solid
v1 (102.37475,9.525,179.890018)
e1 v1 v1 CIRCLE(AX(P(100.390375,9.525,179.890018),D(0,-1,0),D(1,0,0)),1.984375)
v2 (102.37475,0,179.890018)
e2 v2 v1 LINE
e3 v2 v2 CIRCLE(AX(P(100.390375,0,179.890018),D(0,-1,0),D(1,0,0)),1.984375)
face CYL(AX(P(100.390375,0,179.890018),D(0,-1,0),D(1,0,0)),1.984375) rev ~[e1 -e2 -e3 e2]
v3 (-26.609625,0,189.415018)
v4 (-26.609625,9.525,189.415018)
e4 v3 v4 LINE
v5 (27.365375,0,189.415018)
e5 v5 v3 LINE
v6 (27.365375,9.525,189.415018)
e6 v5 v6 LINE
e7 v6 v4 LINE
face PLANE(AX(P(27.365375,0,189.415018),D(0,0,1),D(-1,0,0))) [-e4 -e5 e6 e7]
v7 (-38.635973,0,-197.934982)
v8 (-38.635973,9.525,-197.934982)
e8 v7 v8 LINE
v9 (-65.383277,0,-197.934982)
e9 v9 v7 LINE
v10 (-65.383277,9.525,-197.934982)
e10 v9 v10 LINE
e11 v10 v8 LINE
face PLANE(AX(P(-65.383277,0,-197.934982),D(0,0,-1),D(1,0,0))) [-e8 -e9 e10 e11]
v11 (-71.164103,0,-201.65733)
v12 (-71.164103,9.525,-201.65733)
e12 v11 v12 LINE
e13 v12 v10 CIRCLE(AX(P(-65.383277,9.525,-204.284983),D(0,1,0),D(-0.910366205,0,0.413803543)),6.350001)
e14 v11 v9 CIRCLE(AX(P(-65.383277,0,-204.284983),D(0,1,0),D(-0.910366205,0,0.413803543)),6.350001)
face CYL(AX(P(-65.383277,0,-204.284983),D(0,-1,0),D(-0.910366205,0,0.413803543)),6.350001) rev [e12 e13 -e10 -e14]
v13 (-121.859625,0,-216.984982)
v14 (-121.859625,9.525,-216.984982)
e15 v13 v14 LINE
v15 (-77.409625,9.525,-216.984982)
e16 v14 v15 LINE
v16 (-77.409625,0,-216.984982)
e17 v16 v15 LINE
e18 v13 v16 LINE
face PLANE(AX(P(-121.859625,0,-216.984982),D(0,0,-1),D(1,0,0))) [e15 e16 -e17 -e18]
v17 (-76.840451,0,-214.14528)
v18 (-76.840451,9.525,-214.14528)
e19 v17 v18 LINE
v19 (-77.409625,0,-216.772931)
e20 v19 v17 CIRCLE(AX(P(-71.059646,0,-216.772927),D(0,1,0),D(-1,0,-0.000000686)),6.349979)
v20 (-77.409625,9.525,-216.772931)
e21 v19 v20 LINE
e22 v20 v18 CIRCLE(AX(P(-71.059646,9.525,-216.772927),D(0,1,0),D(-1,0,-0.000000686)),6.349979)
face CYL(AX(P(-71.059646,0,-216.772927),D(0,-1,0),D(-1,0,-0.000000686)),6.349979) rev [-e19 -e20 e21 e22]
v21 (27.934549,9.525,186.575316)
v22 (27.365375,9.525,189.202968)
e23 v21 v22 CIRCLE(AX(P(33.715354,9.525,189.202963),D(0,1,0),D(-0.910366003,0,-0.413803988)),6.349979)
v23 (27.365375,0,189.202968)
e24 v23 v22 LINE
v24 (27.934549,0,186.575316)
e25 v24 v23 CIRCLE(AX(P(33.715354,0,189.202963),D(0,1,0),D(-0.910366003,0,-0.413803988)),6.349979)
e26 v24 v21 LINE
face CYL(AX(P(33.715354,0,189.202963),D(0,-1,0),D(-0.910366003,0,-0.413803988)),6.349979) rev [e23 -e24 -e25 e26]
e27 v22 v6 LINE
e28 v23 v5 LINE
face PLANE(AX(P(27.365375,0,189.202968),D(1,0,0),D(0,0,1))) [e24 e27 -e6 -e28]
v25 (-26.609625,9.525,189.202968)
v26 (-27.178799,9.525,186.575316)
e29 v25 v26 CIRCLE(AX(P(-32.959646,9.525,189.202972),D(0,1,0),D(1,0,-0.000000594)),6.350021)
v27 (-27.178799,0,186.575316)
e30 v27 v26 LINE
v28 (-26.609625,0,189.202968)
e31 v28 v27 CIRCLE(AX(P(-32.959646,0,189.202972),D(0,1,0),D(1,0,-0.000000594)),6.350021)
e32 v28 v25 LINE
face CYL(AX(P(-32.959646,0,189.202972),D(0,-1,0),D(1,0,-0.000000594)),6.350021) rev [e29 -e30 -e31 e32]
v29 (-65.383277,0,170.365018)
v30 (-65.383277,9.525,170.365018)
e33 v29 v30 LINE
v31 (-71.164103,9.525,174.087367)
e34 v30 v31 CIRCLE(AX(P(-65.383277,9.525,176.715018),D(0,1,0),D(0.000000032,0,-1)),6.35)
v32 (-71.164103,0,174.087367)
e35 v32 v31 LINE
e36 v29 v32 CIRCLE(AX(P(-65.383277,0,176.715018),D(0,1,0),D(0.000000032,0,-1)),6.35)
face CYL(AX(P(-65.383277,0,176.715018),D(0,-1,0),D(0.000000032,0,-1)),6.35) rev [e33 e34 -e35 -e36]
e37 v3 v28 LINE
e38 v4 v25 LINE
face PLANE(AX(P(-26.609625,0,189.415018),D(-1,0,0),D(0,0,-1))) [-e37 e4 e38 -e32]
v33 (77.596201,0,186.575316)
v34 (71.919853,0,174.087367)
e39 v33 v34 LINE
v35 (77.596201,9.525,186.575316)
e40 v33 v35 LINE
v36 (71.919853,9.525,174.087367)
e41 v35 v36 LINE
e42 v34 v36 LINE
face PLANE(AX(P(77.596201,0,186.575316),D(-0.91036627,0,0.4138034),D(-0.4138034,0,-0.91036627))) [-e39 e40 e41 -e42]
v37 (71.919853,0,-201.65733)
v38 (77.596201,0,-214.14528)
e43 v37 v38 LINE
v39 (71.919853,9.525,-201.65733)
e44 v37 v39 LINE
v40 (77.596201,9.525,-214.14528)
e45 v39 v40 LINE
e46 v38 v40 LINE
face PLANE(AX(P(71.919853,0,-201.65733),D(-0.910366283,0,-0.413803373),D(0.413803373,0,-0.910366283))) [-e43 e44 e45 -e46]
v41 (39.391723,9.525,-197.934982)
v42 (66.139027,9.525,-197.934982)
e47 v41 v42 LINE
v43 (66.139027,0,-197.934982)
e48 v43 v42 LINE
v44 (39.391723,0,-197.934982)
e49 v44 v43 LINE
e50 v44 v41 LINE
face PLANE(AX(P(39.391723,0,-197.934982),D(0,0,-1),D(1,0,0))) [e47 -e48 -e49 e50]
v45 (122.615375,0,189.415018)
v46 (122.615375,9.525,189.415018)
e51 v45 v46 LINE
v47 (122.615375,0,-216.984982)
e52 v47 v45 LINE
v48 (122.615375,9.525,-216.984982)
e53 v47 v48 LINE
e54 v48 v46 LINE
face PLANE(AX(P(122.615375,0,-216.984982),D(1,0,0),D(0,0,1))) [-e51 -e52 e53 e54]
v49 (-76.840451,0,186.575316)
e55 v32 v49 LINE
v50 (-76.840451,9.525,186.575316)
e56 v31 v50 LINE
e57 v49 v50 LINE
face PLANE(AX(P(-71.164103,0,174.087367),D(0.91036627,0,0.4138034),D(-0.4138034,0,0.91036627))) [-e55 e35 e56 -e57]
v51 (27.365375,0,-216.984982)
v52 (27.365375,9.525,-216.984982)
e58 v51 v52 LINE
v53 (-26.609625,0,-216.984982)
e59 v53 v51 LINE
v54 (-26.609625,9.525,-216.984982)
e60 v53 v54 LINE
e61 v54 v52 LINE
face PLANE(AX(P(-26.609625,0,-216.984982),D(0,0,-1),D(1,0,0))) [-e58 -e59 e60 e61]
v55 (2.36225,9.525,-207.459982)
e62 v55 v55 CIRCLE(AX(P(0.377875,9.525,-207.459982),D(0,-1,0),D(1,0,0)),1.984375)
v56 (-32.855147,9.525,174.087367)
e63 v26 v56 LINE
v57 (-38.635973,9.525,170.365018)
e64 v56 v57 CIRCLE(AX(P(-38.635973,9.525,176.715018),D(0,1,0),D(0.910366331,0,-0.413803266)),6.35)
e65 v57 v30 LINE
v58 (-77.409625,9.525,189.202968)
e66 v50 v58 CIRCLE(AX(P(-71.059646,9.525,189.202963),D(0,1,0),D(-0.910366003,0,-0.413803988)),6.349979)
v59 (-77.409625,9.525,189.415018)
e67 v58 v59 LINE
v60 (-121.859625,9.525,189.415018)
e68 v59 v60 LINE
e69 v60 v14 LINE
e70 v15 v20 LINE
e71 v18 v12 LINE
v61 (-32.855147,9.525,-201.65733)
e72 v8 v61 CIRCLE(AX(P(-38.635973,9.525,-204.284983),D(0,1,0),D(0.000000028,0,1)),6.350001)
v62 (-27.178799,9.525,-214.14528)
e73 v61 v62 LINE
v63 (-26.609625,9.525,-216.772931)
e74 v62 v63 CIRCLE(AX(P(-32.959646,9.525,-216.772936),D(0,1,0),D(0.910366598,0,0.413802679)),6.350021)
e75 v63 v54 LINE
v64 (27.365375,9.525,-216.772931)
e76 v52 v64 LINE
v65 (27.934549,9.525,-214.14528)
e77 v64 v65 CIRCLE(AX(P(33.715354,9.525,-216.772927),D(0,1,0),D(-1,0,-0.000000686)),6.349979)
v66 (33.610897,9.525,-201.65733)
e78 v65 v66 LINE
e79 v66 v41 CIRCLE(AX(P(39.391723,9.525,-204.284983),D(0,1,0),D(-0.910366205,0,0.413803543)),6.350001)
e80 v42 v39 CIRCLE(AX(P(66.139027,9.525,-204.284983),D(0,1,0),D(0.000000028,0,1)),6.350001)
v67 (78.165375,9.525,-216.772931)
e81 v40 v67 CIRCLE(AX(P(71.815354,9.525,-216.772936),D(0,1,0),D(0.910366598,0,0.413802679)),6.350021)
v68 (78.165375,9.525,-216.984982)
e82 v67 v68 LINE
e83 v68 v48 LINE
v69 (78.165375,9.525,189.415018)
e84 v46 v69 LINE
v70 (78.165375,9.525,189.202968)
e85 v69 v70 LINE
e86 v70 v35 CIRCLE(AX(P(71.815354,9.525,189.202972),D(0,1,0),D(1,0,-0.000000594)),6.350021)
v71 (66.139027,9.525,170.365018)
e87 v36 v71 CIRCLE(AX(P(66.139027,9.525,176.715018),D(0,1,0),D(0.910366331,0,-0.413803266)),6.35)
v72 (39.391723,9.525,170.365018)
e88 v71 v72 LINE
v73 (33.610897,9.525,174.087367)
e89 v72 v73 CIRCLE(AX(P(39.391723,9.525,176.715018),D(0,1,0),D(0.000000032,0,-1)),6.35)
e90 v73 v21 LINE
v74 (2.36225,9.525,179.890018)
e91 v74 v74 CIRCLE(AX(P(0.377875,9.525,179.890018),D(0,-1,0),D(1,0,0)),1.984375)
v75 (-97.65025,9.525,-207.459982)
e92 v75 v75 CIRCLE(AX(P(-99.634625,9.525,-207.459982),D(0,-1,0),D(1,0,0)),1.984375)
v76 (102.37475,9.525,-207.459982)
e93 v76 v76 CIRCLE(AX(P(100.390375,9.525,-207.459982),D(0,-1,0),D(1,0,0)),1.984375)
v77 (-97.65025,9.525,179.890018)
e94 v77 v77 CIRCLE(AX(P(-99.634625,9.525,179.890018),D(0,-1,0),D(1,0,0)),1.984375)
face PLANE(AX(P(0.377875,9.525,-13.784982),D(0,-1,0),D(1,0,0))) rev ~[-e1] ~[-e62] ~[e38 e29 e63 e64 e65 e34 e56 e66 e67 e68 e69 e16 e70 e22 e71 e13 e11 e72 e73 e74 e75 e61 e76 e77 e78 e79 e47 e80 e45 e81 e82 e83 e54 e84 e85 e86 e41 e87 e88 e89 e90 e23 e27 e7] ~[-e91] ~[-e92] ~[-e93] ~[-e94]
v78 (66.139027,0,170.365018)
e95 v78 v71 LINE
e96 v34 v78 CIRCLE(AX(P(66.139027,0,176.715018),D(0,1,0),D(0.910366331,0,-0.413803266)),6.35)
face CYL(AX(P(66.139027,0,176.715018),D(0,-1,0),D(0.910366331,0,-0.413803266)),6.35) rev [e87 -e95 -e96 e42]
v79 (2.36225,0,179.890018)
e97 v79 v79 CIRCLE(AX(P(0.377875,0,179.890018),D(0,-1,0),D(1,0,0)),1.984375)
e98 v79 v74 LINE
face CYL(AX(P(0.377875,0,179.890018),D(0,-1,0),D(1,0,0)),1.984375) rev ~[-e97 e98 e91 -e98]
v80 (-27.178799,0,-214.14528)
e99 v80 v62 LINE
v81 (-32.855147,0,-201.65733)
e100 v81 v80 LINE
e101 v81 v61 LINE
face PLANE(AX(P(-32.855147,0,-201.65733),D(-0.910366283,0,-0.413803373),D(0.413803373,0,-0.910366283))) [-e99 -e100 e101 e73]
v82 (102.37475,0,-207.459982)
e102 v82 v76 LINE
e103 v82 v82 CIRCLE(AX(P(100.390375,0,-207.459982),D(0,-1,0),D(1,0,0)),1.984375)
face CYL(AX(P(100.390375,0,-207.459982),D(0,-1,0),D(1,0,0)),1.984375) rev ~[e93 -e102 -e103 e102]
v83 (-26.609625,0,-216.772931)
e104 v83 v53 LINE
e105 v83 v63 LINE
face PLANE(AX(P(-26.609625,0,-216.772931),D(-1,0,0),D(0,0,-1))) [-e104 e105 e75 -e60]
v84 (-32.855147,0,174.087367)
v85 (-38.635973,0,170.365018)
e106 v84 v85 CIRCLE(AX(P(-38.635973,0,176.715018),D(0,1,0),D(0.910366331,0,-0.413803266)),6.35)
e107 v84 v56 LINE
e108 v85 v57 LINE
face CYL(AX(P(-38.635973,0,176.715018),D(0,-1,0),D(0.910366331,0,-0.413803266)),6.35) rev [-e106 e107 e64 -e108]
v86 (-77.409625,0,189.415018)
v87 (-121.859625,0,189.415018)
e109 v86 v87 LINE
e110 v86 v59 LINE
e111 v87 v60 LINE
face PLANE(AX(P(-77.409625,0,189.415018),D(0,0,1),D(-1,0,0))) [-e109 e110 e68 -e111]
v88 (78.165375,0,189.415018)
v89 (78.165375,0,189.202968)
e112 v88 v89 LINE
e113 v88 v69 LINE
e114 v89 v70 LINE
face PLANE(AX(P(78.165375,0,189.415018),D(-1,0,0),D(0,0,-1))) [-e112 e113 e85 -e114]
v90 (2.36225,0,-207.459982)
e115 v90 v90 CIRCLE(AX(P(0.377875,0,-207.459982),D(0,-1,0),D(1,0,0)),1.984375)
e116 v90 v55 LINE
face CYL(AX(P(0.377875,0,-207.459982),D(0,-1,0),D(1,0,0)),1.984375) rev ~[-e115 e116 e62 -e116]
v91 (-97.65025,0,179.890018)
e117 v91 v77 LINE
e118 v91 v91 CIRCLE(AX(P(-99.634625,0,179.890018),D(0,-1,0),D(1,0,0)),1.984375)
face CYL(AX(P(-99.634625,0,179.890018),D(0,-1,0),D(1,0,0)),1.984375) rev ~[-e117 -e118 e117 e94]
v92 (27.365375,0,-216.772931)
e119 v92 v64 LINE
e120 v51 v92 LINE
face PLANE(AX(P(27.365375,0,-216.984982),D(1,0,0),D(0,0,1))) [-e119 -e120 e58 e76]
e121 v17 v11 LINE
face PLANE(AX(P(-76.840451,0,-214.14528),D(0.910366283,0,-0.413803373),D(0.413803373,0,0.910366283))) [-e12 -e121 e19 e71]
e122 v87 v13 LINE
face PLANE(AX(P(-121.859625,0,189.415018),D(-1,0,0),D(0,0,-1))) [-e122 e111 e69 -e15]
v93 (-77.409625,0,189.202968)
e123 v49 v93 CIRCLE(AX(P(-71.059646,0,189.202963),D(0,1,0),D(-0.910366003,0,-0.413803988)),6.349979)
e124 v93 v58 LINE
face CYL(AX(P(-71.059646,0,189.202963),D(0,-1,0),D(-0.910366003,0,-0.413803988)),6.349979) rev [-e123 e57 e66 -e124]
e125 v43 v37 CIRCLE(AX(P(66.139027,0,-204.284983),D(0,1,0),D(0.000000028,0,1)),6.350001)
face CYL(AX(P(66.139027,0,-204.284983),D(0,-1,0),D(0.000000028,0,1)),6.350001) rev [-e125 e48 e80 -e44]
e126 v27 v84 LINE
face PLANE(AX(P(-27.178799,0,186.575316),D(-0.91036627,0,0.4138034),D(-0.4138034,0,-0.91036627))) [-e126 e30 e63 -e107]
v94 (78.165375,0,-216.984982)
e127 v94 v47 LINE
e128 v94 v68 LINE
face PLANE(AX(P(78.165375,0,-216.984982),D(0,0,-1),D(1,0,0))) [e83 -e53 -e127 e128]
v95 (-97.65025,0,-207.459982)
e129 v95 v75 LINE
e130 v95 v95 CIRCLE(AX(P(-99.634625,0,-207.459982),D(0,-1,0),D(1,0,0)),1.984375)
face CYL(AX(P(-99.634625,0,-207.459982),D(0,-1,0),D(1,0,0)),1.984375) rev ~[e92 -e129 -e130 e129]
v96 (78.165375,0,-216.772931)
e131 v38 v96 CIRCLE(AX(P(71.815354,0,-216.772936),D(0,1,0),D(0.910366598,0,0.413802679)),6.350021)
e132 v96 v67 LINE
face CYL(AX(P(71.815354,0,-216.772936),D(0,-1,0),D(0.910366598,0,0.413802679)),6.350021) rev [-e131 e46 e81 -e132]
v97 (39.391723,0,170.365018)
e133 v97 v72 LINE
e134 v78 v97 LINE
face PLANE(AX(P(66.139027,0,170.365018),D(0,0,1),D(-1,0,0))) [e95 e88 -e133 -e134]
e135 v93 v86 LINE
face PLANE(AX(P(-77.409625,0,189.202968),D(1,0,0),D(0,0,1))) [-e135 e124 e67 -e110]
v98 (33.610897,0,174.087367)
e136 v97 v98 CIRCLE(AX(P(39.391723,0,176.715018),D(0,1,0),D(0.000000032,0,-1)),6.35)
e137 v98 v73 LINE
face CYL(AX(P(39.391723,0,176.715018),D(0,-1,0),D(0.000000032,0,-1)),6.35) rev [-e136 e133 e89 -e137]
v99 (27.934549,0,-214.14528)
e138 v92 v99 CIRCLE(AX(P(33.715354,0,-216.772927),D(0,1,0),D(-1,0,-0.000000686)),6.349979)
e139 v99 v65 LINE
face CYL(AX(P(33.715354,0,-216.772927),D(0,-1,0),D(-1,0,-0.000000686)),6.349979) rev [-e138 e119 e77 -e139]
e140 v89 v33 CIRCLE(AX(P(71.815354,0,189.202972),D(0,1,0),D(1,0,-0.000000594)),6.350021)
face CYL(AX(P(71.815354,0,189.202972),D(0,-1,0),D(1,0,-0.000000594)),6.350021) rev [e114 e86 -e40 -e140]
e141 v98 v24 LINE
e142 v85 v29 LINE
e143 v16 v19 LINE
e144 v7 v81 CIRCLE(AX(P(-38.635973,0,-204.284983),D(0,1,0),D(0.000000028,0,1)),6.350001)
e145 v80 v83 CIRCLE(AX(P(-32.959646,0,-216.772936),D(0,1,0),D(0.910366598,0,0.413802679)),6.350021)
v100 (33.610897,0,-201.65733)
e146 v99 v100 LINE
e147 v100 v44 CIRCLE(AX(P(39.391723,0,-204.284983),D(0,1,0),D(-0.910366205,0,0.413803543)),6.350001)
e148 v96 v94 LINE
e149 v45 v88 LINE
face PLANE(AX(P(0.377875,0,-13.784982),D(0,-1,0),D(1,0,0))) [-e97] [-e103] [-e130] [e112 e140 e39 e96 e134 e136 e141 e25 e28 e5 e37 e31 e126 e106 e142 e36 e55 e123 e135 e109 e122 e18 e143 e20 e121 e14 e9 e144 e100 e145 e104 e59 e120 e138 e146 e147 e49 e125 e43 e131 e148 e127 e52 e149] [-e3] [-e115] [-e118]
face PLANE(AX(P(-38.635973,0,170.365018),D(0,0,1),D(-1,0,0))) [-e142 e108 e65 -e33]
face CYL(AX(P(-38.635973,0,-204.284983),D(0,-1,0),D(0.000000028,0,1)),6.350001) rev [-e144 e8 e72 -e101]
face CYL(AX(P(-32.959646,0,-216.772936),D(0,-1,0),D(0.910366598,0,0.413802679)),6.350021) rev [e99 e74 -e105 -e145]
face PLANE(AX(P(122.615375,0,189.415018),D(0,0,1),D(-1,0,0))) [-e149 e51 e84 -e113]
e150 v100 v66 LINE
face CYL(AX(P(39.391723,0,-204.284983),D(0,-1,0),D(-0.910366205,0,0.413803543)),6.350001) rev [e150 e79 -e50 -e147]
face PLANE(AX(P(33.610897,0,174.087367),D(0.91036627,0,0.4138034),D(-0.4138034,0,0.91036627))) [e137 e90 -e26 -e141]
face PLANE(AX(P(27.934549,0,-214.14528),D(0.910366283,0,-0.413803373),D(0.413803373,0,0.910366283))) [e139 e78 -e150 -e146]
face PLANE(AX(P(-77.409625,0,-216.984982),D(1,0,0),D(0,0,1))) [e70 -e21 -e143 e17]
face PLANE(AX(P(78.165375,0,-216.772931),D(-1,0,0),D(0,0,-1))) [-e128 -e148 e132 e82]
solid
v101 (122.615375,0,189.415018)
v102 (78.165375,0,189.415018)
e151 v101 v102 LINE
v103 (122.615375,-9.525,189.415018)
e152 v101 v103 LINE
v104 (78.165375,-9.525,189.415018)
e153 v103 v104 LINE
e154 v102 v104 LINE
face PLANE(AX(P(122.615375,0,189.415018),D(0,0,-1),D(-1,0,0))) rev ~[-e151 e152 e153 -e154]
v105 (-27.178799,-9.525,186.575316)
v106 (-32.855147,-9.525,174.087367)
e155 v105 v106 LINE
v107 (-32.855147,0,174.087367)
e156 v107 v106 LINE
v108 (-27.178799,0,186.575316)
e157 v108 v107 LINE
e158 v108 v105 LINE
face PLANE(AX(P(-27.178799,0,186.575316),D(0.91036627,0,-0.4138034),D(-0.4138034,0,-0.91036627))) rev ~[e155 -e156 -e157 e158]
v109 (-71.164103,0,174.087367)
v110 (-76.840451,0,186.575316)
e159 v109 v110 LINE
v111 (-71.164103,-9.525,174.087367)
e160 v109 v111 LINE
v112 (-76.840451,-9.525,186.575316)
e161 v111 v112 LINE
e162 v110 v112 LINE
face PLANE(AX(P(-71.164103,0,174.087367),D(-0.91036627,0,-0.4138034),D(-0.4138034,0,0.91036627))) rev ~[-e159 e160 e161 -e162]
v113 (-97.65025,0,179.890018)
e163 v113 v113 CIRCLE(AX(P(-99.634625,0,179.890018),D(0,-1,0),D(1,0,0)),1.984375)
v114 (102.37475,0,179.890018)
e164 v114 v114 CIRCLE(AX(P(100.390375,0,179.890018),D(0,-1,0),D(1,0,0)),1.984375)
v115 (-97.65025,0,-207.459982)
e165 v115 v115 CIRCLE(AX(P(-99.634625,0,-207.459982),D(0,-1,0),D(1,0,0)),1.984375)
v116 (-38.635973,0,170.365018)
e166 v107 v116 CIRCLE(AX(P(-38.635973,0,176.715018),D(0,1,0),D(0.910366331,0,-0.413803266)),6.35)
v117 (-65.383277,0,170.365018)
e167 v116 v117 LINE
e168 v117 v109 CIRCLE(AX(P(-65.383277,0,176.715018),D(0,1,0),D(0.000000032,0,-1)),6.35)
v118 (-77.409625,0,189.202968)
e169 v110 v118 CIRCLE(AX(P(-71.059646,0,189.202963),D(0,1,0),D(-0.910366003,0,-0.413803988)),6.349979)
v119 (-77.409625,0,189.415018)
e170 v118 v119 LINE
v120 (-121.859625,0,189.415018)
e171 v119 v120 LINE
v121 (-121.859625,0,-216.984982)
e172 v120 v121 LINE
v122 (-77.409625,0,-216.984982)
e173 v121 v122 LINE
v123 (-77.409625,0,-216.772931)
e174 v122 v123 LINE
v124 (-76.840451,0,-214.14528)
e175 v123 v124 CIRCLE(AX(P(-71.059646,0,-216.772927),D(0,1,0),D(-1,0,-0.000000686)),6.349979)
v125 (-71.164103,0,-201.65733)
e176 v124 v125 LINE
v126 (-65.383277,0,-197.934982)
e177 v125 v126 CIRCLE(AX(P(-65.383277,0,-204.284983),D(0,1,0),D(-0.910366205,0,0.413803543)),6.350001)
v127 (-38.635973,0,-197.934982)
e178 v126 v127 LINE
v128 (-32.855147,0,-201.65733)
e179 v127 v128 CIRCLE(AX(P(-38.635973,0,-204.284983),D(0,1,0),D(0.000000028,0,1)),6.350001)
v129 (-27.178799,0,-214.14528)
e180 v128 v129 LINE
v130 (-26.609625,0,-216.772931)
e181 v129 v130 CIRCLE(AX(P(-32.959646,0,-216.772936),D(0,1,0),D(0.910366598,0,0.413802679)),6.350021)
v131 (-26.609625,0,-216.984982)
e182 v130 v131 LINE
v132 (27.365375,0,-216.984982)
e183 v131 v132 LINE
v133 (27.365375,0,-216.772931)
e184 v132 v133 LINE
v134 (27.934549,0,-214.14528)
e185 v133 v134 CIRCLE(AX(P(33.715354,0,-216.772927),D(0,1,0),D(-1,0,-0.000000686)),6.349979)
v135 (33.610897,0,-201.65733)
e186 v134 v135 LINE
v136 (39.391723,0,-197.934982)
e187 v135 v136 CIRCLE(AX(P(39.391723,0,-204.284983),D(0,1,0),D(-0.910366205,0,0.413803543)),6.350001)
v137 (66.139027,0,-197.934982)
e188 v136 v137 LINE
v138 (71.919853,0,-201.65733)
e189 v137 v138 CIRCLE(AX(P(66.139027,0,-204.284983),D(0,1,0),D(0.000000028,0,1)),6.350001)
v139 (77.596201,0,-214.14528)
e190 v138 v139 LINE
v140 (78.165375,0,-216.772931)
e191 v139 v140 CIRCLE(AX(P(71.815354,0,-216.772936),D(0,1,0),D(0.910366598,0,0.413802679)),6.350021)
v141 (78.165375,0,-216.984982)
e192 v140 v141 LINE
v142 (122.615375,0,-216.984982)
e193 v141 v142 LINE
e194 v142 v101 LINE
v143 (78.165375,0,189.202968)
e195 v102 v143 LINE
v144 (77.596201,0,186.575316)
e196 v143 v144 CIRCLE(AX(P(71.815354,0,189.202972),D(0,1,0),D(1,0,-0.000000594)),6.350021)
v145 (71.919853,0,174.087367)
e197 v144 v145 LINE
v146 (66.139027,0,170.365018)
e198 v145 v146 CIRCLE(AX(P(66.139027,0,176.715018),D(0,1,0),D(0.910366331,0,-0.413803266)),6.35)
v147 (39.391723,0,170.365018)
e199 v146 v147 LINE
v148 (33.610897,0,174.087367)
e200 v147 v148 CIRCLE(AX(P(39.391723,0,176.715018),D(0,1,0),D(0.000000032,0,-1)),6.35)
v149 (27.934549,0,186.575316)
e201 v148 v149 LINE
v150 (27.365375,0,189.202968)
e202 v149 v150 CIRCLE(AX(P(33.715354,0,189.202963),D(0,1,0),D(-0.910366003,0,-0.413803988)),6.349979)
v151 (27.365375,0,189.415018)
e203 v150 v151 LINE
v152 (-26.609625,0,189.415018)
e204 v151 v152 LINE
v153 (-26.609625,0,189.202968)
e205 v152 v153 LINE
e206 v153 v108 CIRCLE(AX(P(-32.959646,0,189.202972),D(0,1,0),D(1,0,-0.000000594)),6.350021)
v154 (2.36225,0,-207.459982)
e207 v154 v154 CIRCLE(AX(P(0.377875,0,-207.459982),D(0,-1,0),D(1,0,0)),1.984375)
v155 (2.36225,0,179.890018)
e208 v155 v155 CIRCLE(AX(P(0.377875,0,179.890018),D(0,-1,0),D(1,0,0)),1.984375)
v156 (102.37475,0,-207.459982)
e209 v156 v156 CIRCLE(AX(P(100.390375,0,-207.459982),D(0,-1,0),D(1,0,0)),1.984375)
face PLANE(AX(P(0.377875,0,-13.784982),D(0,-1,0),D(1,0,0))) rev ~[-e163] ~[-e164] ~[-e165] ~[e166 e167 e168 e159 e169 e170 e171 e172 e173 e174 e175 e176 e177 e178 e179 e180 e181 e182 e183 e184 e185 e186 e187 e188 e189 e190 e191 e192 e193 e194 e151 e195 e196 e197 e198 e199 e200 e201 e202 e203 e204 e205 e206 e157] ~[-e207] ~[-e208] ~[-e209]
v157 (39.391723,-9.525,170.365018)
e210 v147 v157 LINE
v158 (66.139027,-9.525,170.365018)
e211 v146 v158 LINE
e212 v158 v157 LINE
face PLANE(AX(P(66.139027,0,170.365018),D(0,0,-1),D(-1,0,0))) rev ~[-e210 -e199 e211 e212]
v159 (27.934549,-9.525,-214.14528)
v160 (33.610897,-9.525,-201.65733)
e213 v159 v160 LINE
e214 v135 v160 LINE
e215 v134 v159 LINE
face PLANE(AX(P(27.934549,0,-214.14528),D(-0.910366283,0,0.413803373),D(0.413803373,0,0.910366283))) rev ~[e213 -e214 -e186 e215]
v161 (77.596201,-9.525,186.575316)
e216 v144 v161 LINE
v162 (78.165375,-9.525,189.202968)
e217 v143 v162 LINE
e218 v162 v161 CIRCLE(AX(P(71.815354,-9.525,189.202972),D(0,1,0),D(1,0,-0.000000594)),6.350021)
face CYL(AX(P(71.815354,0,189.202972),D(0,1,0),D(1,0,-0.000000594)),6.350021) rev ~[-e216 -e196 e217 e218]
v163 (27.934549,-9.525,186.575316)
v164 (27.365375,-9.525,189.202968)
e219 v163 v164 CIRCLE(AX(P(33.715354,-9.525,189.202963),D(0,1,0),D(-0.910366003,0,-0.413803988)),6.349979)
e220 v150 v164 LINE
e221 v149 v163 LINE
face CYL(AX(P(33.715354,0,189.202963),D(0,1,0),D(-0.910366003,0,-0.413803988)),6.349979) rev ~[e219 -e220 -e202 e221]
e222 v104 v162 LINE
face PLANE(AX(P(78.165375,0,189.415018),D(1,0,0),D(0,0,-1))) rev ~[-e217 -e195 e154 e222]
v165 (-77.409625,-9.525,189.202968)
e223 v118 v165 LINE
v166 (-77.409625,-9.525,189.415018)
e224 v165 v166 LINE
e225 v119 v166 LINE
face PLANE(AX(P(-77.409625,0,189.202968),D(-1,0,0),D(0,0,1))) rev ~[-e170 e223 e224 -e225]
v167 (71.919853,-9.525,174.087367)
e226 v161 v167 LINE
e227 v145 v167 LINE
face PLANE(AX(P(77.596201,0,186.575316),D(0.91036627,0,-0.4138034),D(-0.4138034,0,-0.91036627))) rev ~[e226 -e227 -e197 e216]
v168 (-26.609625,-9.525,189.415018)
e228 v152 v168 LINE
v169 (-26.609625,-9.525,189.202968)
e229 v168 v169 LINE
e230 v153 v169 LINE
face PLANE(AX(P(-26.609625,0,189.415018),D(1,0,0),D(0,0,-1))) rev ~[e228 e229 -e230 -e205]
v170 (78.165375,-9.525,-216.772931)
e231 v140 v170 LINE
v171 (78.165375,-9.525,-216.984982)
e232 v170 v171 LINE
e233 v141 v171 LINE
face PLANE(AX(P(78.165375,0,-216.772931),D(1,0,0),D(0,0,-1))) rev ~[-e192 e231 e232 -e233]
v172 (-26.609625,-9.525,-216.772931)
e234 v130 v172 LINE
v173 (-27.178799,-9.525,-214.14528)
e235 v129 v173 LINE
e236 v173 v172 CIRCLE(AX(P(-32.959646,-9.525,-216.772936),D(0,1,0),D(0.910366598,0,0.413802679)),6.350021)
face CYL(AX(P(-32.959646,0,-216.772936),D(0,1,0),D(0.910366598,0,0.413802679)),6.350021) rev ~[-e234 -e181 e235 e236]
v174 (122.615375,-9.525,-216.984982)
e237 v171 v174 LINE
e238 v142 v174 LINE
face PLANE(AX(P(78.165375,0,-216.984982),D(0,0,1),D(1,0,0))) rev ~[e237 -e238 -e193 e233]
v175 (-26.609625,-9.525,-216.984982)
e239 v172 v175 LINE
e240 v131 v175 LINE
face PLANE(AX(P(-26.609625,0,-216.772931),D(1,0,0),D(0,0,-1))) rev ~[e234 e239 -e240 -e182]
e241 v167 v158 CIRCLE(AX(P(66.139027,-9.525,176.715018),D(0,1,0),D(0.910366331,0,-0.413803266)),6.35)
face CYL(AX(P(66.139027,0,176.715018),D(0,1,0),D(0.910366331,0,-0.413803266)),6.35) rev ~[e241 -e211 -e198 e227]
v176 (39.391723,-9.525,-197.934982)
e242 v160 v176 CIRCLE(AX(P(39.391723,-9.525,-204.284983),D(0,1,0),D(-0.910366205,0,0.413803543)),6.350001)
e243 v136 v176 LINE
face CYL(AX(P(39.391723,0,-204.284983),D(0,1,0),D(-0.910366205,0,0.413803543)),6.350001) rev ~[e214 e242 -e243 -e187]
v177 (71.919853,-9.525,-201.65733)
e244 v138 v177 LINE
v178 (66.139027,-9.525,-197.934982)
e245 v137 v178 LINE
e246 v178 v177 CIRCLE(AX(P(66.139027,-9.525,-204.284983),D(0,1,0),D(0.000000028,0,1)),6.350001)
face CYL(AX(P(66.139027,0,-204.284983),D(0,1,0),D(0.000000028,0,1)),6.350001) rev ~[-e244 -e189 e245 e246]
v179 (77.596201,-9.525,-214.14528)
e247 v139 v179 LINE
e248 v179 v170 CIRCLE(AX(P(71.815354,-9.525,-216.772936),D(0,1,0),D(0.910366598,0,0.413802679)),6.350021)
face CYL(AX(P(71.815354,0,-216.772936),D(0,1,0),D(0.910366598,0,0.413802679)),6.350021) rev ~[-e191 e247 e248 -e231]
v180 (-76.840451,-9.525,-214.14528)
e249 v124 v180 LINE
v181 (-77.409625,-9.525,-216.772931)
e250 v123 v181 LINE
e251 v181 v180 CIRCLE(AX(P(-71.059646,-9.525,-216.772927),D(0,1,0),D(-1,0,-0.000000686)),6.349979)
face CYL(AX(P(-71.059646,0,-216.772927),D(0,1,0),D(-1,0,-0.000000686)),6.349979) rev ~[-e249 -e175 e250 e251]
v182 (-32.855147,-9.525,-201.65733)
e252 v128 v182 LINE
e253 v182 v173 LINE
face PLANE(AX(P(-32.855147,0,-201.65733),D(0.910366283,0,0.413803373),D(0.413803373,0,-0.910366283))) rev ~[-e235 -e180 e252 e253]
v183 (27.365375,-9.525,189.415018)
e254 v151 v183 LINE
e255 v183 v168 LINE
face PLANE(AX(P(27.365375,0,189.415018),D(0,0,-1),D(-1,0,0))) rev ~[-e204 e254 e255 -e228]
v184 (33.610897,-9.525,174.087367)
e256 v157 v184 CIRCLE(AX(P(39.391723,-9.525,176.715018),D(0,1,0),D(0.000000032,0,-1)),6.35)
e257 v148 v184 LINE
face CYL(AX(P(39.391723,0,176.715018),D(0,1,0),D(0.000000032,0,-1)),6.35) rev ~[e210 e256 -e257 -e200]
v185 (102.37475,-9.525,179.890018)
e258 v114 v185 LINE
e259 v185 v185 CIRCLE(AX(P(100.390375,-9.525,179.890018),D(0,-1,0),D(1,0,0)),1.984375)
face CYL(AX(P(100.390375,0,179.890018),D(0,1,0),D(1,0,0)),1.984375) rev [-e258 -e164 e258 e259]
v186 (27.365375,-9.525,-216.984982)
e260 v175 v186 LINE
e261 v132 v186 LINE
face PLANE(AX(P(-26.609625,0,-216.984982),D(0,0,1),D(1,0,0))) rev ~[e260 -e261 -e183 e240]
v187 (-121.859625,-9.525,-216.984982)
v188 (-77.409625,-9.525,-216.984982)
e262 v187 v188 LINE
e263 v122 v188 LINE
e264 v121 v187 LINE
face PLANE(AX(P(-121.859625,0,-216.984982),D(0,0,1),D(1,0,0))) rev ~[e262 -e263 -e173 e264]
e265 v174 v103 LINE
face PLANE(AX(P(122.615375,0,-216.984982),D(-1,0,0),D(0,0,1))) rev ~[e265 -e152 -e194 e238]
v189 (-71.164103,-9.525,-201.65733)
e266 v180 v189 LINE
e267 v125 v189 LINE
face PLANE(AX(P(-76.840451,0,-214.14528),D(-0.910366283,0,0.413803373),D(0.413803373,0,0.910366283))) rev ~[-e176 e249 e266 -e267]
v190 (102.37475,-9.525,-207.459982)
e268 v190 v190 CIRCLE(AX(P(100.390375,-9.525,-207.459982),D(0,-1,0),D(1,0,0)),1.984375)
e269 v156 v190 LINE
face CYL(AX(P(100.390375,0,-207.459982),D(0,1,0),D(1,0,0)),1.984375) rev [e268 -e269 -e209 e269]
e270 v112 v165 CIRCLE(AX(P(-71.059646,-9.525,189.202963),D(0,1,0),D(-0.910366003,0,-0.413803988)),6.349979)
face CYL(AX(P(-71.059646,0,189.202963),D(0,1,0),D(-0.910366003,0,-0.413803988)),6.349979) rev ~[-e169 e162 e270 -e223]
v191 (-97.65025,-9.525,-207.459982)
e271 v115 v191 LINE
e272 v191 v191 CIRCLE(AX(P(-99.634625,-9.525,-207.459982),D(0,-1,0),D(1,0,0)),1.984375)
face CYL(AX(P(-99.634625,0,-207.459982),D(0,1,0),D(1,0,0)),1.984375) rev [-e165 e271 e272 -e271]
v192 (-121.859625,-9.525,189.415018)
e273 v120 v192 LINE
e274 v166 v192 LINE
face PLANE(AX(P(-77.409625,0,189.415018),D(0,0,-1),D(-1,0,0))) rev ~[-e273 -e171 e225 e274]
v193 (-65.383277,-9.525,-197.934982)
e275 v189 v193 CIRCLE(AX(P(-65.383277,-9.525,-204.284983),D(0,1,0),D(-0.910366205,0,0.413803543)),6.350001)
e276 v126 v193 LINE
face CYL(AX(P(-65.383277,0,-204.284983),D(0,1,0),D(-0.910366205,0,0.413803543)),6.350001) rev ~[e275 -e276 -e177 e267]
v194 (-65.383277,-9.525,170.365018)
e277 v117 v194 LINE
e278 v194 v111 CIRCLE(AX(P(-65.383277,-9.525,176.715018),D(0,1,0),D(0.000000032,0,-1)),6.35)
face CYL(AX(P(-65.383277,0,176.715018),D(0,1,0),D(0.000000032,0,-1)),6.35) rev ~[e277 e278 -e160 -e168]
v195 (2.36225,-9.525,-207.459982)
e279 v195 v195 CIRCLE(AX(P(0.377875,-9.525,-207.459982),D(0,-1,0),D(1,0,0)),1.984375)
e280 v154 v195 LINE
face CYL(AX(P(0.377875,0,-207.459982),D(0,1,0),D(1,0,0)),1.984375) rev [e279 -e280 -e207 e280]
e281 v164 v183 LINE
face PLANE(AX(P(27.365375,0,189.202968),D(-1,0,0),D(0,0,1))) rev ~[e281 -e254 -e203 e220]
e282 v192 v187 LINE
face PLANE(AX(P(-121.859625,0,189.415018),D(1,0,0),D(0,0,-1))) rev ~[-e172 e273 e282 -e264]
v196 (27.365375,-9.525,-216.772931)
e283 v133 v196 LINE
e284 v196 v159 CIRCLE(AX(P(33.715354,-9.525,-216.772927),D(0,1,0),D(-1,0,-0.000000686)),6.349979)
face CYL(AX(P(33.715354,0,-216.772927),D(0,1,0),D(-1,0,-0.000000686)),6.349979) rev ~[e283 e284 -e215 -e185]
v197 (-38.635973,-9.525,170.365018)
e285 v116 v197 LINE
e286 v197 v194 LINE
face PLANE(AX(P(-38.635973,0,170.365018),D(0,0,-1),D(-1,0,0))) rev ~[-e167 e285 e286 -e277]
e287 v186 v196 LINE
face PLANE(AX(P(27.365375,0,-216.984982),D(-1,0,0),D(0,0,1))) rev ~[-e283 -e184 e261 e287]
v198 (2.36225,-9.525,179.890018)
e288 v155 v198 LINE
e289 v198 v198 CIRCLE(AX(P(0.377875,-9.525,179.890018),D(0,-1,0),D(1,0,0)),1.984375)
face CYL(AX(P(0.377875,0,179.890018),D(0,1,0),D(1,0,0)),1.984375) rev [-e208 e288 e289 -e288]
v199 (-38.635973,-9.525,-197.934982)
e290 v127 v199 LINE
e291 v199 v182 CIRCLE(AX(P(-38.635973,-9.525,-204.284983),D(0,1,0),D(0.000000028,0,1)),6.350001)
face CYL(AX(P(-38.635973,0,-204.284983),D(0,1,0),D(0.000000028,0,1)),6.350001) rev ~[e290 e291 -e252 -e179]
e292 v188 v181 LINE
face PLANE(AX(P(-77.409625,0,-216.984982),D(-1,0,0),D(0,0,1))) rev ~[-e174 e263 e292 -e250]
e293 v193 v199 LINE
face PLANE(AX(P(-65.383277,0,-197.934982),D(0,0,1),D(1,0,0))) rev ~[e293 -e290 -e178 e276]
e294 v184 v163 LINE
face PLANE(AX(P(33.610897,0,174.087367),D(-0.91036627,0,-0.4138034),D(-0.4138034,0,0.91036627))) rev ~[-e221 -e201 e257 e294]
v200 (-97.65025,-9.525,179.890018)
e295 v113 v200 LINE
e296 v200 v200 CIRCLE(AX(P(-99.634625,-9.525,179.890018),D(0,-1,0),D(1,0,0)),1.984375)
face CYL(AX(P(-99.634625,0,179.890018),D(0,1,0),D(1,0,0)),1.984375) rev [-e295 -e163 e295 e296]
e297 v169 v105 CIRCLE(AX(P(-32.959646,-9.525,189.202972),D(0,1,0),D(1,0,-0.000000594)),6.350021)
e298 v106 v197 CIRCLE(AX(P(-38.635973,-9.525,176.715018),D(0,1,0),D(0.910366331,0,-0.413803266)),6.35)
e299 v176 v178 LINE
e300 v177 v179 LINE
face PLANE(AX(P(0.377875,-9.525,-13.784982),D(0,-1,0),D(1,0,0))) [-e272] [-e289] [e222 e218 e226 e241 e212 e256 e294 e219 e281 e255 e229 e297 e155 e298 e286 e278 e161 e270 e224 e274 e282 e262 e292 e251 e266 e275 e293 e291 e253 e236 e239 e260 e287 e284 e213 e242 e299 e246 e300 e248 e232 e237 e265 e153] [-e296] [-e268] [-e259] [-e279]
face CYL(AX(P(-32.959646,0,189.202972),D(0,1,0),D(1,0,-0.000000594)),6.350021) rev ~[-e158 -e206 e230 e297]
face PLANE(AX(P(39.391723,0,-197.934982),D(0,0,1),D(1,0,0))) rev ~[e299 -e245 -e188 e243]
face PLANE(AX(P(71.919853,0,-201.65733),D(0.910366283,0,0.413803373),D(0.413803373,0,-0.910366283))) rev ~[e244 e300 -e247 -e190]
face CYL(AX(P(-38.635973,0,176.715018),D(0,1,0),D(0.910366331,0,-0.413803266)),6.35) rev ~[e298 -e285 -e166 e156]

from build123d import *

# Parameters (mm, degrees)
F0_R     = 1.984375
F1_DEPTH = 9.525
F2_DEPTH = 9.525


with BuildPart() as f1:
    # F0 (on Front) → F1 (new body)
    with BuildSketch(Plane.XZ):
        with BuildLine():
            Line((-77.409625, 189.415018), (-121.859625, 189.415018))
            Line((-121.859625, 189.415018), (-121.859625, -216.984982))
            Line((-121.859625, -216.984982), (-77.409625, -216.984982))
            Line((-77.409625, -216.984982), (-77.409625, -216.772931))
            ThreePointArc((-77.409625, -216.772931), (-77.265701, -215.428637), (-76.840451, -214.14528))
            Line((-76.840451, -214.14528), (-71.164103, -201.65733))
            ThreePointArc((-71.164103, -201.65733), (-68.821075, -198.946064), (-65.383277, -197.934982))
            Line((-65.383277, -197.934982), (-38.635973, -197.934982))
            ThreePointArc((-38.635973, -197.934982), (-35.198175, -198.946064), (-32.855147, -201.65733))
            Line((-32.855147, -201.65733), (-27.178799, -214.14528))
            ThreePointArc((-27.178799, -214.14528), (-26.75355, -215.428637), (-26.609625, -216.772931))
            Line((-26.609625, -216.772931), (-26.609625, -216.984982))
            Line((-26.609625, -216.984982), (27.365375, -216.984982))
            Line((27.365375, -216.984982), (27.365375, -216.772931))
            ThreePointArc((27.365375, -216.772931), (27.509299, -215.428637), (27.934549, -214.14528))
            Line((27.934549, -214.14528), (33.610897, -201.65733))
            ThreePointArc((33.610897, -201.65733), (35.953925, -198.946064), (39.391723, -197.934982))
            Line((39.391723, -197.934982), (66.139027, -197.934982))
            ThreePointArc((66.139027, -197.934982), (69.576825, -198.946064), (71.919853, -201.65733))
            Line((71.919853, -201.65733), (77.596201, -214.14528))
            ThreePointArc((77.596201, -214.14528), (78.02145, -215.428637), (78.165375, -216.772931))
            Line((78.165375, -216.772931), (78.165375, -216.984982))
            Line((78.165375, -216.984982), (122.615375, -216.984982))
            Line((122.615375, -216.984982), (122.615375, 189.415018))
            Line((122.615375, 189.415018), (78.165375, 189.415018))
            Line((78.165375, 189.415018), (78.165375, 189.202968))
            ThreePointArc((78.165375, 189.202968), (78.02145, 187.858673), (77.596201, 186.575316))
            Line((77.596201, 186.575316), (71.919853, 174.087367))
            ThreePointArc((71.919853, 174.087367), (69.576825, 171.3761), (66.139027, 170.365018))
            Line((66.139027, 170.365018), (39.391723, 170.365018))
            ThreePointArc((39.391723, 170.365018), (35.953925, 171.3761), (33.610897, 174.087367))
            Line((33.610897, 174.087367), (27.934549, 186.575316))
            ThreePointArc((27.934549, 186.575316), (27.509299, 187.858673), (27.365375, 189.202968))
            Line((27.365375, 189.202968), (27.365375, 189.415018))
            Line((27.365375, 189.415018), (-26.609625, 189.415018))
            Line((-26.609625, 189.415018), (-26.609625, 189.202968))
            ThreePointArc((-26.609625, 189.202968), (-26.75355, 187.858673), (-27.178799, 186.575316))
            Line((-27.178799, 186.575316), (-32.855147, 174.087367))
            ThreePointArc((-32.855147, 174.087367), (-35.198175, 171.3761), (-38.635973, 170.365018))
            Line((-38.635973, 170.365018), (-65.383277, 170.365018))
            ThreePointArc((-65.383277, 170.365018), (-68.821075, 171.3761), (-71.164103, 174.087367))
            Line((-71.164103, 174.087367), (-76.840451, 186.575316))
            ThreePointArc((-76.840451, 186.575316), (-77.265701, 187.858673), (-77.409625, 189.202968))
            Line((-77.409625, 189.202968), (-77.409625, 189.415018))
        make_face()
        with Locations((-99.634625, -207.459982)):
            Circle(F0_R, mode=Mode.SUBTRACT)
        with Locations((0.377875, -207.459982)):
            Circle(F0_R, mode=Mode.SUBTRACT)
        with Locations((100.390375, -207.459982)):
            Circle(F0_R, mode=Mode.SUBTRACT)
        with Locations((-99.634625, 179.890018)):
            Circle(F0_R, mode=Mode.SUBTRACT)
        with Locations((0.377875, 179.890018)):
            Circle(F0_R, mode=Mode.SUBTRACT)
        with Locations((100.390375, 179.890018)):
            Circle(F0_R, mode=Mode.SUBTRACT)
    extrude(amount=F1_DEPTH)


with BuildPart() as f2:
    # F0 (on Front) → F2 (new body)
    with BuildSketch(Plane.XZ):
        with BuildLine():
            Line((-77.409625, 189.415018), (-121.859625, 189.415018))
            Line((-121.859625, 189.415018), (-121.859625, -216.984982))
            Line((-121.859625, -216.984982), (-77.409625, -216.984982))
            Line((-77.409625, -216.984982), (-77.409625, -216.772931))
            ThreePointArc((-77.409625, -216.772931), (-77.265701, -215.428637), (-76.840451, -214.14528))
            Line((-76.840451, -214.14528), (-71.164103, -201.65733))
            ThreePointArc((-71.164103, -201.65733), (-68.821075, -198.946064), (-65.383277, -197.934982))
            Line((-65.383277, -197.934982), (-38.635973, -197.934982))
            ThreePointArc((-38.635973, -197.934982), (-35.198175, -198.946064), (-32.855147, -201.65733))
            Line((-32.855147, -201.65733), (-27.178799, -214.14528))
            ThreePointArc((-27.178799, -214.14528), (-26.75355, -215.428637), (-26.609625, -216.772931))
            Line((-26.609625, -216.772931), (-26.609625, -216.984982))
            Line((-26.609625, -216.984982), (27.365375, -216.984982))
            Line((27.365375, -216.984982), (27.365375, -216.772931))
            ThreePointArc((27.365375, -216.772931), (27.509299, -215.428637), (27.934549, -214.14528))
            Line((27.934549, -214.14528), (33.610897, -201.65733))
            ThreePointArc((33.610897, -201.65733), (35.953925, -198.946064), (39.391723, -197.934982))
            Line((39.391723, -197.934982), (66.139027, -197.934982))
            ThreePointArc((66.139027, -197.934982), (69.576825, -198.946064), (71.919853, -201.65733))
            Line((71.919853, -201.65733), (77.596201, -214.14528))
            ThreePointArc((77.596201, -214.14528), (78.02145, -215.428637), (78.165375, -216.772931))
            Line((78.165375, -216.772931), (78.165375, -216.984982))
            Line((78.165375, -216.984982), (122.615375, -216.984982))
            Line((122.615375, -216.984982), (122.615375, 189.415018))
            Line((122.615375, 189.415018), (78.165375, 189.415018))
            Line((78.165375, 189.415018), (78.165375, 189.202968))
            ThreePointArc((78.165375, 189.202968), (78.02145, 187.858673), (77.596201, 186.575316))
            Line((77.596201, 186.575316), (71.919853, 174.087367))
            ThreePointArc((71.919853, 174.087367), (69.576825, 171.3761), (66.139027, 170.365018))
            Line((66.139027, 170.365018), (39.391723, 170.365018))
            ThreePointArc((39.391723, 170.365018), (35.953925, 171.3761), (33.610897, 174.087367))
            Line((33.610897, 174.087367), (27.934549, 186.575316))
            ThreePointArc((27.934549, 186.575316), (27.509299, 187.858673), (27.365375, 189.202968))
            Line((27.365375, 189.202968), (27.365375, 189.415018))
            Line((27.365375, 189.415018), (-26.609625, 189.415018))
            Line((-26.609625, 189.415018), (-26.609625, 189.202968))
            ThreePointArc((-26.609625, 189.202968), (-26.75355, 187.858673), (-27.178799, 186.575316))
            Line((-27.178799, 186.575316), (-32.855147, 174.087367))
            ThreePointArc((-32.855147, 174.087367), (-35.198175, 171.3761), (-38.635973, 170.365018))
            Line((-38.635973, 170.365018), (-65.383277, 170.365018))
            ThreePointArc((-65.383277, 170.365018), (-68.821075, 171.3761), (-71.164103, 174.087367))
            Line((-71.164103, 174.087367), (-76.840451, 186.575316))
            ThreePointArc((-76.840451, 186.575316), (-77.265701, 187.858673), (-77.409625, 189.202968))
            Line((-77.409625, 189.202968), (-77.409625, 189.415018))
        make_face()
        with Locations((-99.634625, -207.459982)):
            Circle(F0_R, mode=Mode.SUBTRACT)
        with Locations((0.377875, -207.459982)):
            Circle(F0_R, mode=Mode.SUBTRACT)
        with Locations((100.390375, -207.459982)):
            Circle(F0_R, mode=Mode.SUBTRACT)
        with Locations((-99.634625, 179.890018)):
            Circle(F0_R, mode=Mode.SUBTRACT)
        with Locations((0.377875, 179.890018)):
            Circle(F0_R, mode=Mode.SUBTRACT)
        with Locations((100.390375, 179.890018)):
            Circle(F0_R, mode=Mode.SUBTRACT)
    extrude(amount=-F2_DEPTH)


solid = Compound([f1.part, f2.part])
